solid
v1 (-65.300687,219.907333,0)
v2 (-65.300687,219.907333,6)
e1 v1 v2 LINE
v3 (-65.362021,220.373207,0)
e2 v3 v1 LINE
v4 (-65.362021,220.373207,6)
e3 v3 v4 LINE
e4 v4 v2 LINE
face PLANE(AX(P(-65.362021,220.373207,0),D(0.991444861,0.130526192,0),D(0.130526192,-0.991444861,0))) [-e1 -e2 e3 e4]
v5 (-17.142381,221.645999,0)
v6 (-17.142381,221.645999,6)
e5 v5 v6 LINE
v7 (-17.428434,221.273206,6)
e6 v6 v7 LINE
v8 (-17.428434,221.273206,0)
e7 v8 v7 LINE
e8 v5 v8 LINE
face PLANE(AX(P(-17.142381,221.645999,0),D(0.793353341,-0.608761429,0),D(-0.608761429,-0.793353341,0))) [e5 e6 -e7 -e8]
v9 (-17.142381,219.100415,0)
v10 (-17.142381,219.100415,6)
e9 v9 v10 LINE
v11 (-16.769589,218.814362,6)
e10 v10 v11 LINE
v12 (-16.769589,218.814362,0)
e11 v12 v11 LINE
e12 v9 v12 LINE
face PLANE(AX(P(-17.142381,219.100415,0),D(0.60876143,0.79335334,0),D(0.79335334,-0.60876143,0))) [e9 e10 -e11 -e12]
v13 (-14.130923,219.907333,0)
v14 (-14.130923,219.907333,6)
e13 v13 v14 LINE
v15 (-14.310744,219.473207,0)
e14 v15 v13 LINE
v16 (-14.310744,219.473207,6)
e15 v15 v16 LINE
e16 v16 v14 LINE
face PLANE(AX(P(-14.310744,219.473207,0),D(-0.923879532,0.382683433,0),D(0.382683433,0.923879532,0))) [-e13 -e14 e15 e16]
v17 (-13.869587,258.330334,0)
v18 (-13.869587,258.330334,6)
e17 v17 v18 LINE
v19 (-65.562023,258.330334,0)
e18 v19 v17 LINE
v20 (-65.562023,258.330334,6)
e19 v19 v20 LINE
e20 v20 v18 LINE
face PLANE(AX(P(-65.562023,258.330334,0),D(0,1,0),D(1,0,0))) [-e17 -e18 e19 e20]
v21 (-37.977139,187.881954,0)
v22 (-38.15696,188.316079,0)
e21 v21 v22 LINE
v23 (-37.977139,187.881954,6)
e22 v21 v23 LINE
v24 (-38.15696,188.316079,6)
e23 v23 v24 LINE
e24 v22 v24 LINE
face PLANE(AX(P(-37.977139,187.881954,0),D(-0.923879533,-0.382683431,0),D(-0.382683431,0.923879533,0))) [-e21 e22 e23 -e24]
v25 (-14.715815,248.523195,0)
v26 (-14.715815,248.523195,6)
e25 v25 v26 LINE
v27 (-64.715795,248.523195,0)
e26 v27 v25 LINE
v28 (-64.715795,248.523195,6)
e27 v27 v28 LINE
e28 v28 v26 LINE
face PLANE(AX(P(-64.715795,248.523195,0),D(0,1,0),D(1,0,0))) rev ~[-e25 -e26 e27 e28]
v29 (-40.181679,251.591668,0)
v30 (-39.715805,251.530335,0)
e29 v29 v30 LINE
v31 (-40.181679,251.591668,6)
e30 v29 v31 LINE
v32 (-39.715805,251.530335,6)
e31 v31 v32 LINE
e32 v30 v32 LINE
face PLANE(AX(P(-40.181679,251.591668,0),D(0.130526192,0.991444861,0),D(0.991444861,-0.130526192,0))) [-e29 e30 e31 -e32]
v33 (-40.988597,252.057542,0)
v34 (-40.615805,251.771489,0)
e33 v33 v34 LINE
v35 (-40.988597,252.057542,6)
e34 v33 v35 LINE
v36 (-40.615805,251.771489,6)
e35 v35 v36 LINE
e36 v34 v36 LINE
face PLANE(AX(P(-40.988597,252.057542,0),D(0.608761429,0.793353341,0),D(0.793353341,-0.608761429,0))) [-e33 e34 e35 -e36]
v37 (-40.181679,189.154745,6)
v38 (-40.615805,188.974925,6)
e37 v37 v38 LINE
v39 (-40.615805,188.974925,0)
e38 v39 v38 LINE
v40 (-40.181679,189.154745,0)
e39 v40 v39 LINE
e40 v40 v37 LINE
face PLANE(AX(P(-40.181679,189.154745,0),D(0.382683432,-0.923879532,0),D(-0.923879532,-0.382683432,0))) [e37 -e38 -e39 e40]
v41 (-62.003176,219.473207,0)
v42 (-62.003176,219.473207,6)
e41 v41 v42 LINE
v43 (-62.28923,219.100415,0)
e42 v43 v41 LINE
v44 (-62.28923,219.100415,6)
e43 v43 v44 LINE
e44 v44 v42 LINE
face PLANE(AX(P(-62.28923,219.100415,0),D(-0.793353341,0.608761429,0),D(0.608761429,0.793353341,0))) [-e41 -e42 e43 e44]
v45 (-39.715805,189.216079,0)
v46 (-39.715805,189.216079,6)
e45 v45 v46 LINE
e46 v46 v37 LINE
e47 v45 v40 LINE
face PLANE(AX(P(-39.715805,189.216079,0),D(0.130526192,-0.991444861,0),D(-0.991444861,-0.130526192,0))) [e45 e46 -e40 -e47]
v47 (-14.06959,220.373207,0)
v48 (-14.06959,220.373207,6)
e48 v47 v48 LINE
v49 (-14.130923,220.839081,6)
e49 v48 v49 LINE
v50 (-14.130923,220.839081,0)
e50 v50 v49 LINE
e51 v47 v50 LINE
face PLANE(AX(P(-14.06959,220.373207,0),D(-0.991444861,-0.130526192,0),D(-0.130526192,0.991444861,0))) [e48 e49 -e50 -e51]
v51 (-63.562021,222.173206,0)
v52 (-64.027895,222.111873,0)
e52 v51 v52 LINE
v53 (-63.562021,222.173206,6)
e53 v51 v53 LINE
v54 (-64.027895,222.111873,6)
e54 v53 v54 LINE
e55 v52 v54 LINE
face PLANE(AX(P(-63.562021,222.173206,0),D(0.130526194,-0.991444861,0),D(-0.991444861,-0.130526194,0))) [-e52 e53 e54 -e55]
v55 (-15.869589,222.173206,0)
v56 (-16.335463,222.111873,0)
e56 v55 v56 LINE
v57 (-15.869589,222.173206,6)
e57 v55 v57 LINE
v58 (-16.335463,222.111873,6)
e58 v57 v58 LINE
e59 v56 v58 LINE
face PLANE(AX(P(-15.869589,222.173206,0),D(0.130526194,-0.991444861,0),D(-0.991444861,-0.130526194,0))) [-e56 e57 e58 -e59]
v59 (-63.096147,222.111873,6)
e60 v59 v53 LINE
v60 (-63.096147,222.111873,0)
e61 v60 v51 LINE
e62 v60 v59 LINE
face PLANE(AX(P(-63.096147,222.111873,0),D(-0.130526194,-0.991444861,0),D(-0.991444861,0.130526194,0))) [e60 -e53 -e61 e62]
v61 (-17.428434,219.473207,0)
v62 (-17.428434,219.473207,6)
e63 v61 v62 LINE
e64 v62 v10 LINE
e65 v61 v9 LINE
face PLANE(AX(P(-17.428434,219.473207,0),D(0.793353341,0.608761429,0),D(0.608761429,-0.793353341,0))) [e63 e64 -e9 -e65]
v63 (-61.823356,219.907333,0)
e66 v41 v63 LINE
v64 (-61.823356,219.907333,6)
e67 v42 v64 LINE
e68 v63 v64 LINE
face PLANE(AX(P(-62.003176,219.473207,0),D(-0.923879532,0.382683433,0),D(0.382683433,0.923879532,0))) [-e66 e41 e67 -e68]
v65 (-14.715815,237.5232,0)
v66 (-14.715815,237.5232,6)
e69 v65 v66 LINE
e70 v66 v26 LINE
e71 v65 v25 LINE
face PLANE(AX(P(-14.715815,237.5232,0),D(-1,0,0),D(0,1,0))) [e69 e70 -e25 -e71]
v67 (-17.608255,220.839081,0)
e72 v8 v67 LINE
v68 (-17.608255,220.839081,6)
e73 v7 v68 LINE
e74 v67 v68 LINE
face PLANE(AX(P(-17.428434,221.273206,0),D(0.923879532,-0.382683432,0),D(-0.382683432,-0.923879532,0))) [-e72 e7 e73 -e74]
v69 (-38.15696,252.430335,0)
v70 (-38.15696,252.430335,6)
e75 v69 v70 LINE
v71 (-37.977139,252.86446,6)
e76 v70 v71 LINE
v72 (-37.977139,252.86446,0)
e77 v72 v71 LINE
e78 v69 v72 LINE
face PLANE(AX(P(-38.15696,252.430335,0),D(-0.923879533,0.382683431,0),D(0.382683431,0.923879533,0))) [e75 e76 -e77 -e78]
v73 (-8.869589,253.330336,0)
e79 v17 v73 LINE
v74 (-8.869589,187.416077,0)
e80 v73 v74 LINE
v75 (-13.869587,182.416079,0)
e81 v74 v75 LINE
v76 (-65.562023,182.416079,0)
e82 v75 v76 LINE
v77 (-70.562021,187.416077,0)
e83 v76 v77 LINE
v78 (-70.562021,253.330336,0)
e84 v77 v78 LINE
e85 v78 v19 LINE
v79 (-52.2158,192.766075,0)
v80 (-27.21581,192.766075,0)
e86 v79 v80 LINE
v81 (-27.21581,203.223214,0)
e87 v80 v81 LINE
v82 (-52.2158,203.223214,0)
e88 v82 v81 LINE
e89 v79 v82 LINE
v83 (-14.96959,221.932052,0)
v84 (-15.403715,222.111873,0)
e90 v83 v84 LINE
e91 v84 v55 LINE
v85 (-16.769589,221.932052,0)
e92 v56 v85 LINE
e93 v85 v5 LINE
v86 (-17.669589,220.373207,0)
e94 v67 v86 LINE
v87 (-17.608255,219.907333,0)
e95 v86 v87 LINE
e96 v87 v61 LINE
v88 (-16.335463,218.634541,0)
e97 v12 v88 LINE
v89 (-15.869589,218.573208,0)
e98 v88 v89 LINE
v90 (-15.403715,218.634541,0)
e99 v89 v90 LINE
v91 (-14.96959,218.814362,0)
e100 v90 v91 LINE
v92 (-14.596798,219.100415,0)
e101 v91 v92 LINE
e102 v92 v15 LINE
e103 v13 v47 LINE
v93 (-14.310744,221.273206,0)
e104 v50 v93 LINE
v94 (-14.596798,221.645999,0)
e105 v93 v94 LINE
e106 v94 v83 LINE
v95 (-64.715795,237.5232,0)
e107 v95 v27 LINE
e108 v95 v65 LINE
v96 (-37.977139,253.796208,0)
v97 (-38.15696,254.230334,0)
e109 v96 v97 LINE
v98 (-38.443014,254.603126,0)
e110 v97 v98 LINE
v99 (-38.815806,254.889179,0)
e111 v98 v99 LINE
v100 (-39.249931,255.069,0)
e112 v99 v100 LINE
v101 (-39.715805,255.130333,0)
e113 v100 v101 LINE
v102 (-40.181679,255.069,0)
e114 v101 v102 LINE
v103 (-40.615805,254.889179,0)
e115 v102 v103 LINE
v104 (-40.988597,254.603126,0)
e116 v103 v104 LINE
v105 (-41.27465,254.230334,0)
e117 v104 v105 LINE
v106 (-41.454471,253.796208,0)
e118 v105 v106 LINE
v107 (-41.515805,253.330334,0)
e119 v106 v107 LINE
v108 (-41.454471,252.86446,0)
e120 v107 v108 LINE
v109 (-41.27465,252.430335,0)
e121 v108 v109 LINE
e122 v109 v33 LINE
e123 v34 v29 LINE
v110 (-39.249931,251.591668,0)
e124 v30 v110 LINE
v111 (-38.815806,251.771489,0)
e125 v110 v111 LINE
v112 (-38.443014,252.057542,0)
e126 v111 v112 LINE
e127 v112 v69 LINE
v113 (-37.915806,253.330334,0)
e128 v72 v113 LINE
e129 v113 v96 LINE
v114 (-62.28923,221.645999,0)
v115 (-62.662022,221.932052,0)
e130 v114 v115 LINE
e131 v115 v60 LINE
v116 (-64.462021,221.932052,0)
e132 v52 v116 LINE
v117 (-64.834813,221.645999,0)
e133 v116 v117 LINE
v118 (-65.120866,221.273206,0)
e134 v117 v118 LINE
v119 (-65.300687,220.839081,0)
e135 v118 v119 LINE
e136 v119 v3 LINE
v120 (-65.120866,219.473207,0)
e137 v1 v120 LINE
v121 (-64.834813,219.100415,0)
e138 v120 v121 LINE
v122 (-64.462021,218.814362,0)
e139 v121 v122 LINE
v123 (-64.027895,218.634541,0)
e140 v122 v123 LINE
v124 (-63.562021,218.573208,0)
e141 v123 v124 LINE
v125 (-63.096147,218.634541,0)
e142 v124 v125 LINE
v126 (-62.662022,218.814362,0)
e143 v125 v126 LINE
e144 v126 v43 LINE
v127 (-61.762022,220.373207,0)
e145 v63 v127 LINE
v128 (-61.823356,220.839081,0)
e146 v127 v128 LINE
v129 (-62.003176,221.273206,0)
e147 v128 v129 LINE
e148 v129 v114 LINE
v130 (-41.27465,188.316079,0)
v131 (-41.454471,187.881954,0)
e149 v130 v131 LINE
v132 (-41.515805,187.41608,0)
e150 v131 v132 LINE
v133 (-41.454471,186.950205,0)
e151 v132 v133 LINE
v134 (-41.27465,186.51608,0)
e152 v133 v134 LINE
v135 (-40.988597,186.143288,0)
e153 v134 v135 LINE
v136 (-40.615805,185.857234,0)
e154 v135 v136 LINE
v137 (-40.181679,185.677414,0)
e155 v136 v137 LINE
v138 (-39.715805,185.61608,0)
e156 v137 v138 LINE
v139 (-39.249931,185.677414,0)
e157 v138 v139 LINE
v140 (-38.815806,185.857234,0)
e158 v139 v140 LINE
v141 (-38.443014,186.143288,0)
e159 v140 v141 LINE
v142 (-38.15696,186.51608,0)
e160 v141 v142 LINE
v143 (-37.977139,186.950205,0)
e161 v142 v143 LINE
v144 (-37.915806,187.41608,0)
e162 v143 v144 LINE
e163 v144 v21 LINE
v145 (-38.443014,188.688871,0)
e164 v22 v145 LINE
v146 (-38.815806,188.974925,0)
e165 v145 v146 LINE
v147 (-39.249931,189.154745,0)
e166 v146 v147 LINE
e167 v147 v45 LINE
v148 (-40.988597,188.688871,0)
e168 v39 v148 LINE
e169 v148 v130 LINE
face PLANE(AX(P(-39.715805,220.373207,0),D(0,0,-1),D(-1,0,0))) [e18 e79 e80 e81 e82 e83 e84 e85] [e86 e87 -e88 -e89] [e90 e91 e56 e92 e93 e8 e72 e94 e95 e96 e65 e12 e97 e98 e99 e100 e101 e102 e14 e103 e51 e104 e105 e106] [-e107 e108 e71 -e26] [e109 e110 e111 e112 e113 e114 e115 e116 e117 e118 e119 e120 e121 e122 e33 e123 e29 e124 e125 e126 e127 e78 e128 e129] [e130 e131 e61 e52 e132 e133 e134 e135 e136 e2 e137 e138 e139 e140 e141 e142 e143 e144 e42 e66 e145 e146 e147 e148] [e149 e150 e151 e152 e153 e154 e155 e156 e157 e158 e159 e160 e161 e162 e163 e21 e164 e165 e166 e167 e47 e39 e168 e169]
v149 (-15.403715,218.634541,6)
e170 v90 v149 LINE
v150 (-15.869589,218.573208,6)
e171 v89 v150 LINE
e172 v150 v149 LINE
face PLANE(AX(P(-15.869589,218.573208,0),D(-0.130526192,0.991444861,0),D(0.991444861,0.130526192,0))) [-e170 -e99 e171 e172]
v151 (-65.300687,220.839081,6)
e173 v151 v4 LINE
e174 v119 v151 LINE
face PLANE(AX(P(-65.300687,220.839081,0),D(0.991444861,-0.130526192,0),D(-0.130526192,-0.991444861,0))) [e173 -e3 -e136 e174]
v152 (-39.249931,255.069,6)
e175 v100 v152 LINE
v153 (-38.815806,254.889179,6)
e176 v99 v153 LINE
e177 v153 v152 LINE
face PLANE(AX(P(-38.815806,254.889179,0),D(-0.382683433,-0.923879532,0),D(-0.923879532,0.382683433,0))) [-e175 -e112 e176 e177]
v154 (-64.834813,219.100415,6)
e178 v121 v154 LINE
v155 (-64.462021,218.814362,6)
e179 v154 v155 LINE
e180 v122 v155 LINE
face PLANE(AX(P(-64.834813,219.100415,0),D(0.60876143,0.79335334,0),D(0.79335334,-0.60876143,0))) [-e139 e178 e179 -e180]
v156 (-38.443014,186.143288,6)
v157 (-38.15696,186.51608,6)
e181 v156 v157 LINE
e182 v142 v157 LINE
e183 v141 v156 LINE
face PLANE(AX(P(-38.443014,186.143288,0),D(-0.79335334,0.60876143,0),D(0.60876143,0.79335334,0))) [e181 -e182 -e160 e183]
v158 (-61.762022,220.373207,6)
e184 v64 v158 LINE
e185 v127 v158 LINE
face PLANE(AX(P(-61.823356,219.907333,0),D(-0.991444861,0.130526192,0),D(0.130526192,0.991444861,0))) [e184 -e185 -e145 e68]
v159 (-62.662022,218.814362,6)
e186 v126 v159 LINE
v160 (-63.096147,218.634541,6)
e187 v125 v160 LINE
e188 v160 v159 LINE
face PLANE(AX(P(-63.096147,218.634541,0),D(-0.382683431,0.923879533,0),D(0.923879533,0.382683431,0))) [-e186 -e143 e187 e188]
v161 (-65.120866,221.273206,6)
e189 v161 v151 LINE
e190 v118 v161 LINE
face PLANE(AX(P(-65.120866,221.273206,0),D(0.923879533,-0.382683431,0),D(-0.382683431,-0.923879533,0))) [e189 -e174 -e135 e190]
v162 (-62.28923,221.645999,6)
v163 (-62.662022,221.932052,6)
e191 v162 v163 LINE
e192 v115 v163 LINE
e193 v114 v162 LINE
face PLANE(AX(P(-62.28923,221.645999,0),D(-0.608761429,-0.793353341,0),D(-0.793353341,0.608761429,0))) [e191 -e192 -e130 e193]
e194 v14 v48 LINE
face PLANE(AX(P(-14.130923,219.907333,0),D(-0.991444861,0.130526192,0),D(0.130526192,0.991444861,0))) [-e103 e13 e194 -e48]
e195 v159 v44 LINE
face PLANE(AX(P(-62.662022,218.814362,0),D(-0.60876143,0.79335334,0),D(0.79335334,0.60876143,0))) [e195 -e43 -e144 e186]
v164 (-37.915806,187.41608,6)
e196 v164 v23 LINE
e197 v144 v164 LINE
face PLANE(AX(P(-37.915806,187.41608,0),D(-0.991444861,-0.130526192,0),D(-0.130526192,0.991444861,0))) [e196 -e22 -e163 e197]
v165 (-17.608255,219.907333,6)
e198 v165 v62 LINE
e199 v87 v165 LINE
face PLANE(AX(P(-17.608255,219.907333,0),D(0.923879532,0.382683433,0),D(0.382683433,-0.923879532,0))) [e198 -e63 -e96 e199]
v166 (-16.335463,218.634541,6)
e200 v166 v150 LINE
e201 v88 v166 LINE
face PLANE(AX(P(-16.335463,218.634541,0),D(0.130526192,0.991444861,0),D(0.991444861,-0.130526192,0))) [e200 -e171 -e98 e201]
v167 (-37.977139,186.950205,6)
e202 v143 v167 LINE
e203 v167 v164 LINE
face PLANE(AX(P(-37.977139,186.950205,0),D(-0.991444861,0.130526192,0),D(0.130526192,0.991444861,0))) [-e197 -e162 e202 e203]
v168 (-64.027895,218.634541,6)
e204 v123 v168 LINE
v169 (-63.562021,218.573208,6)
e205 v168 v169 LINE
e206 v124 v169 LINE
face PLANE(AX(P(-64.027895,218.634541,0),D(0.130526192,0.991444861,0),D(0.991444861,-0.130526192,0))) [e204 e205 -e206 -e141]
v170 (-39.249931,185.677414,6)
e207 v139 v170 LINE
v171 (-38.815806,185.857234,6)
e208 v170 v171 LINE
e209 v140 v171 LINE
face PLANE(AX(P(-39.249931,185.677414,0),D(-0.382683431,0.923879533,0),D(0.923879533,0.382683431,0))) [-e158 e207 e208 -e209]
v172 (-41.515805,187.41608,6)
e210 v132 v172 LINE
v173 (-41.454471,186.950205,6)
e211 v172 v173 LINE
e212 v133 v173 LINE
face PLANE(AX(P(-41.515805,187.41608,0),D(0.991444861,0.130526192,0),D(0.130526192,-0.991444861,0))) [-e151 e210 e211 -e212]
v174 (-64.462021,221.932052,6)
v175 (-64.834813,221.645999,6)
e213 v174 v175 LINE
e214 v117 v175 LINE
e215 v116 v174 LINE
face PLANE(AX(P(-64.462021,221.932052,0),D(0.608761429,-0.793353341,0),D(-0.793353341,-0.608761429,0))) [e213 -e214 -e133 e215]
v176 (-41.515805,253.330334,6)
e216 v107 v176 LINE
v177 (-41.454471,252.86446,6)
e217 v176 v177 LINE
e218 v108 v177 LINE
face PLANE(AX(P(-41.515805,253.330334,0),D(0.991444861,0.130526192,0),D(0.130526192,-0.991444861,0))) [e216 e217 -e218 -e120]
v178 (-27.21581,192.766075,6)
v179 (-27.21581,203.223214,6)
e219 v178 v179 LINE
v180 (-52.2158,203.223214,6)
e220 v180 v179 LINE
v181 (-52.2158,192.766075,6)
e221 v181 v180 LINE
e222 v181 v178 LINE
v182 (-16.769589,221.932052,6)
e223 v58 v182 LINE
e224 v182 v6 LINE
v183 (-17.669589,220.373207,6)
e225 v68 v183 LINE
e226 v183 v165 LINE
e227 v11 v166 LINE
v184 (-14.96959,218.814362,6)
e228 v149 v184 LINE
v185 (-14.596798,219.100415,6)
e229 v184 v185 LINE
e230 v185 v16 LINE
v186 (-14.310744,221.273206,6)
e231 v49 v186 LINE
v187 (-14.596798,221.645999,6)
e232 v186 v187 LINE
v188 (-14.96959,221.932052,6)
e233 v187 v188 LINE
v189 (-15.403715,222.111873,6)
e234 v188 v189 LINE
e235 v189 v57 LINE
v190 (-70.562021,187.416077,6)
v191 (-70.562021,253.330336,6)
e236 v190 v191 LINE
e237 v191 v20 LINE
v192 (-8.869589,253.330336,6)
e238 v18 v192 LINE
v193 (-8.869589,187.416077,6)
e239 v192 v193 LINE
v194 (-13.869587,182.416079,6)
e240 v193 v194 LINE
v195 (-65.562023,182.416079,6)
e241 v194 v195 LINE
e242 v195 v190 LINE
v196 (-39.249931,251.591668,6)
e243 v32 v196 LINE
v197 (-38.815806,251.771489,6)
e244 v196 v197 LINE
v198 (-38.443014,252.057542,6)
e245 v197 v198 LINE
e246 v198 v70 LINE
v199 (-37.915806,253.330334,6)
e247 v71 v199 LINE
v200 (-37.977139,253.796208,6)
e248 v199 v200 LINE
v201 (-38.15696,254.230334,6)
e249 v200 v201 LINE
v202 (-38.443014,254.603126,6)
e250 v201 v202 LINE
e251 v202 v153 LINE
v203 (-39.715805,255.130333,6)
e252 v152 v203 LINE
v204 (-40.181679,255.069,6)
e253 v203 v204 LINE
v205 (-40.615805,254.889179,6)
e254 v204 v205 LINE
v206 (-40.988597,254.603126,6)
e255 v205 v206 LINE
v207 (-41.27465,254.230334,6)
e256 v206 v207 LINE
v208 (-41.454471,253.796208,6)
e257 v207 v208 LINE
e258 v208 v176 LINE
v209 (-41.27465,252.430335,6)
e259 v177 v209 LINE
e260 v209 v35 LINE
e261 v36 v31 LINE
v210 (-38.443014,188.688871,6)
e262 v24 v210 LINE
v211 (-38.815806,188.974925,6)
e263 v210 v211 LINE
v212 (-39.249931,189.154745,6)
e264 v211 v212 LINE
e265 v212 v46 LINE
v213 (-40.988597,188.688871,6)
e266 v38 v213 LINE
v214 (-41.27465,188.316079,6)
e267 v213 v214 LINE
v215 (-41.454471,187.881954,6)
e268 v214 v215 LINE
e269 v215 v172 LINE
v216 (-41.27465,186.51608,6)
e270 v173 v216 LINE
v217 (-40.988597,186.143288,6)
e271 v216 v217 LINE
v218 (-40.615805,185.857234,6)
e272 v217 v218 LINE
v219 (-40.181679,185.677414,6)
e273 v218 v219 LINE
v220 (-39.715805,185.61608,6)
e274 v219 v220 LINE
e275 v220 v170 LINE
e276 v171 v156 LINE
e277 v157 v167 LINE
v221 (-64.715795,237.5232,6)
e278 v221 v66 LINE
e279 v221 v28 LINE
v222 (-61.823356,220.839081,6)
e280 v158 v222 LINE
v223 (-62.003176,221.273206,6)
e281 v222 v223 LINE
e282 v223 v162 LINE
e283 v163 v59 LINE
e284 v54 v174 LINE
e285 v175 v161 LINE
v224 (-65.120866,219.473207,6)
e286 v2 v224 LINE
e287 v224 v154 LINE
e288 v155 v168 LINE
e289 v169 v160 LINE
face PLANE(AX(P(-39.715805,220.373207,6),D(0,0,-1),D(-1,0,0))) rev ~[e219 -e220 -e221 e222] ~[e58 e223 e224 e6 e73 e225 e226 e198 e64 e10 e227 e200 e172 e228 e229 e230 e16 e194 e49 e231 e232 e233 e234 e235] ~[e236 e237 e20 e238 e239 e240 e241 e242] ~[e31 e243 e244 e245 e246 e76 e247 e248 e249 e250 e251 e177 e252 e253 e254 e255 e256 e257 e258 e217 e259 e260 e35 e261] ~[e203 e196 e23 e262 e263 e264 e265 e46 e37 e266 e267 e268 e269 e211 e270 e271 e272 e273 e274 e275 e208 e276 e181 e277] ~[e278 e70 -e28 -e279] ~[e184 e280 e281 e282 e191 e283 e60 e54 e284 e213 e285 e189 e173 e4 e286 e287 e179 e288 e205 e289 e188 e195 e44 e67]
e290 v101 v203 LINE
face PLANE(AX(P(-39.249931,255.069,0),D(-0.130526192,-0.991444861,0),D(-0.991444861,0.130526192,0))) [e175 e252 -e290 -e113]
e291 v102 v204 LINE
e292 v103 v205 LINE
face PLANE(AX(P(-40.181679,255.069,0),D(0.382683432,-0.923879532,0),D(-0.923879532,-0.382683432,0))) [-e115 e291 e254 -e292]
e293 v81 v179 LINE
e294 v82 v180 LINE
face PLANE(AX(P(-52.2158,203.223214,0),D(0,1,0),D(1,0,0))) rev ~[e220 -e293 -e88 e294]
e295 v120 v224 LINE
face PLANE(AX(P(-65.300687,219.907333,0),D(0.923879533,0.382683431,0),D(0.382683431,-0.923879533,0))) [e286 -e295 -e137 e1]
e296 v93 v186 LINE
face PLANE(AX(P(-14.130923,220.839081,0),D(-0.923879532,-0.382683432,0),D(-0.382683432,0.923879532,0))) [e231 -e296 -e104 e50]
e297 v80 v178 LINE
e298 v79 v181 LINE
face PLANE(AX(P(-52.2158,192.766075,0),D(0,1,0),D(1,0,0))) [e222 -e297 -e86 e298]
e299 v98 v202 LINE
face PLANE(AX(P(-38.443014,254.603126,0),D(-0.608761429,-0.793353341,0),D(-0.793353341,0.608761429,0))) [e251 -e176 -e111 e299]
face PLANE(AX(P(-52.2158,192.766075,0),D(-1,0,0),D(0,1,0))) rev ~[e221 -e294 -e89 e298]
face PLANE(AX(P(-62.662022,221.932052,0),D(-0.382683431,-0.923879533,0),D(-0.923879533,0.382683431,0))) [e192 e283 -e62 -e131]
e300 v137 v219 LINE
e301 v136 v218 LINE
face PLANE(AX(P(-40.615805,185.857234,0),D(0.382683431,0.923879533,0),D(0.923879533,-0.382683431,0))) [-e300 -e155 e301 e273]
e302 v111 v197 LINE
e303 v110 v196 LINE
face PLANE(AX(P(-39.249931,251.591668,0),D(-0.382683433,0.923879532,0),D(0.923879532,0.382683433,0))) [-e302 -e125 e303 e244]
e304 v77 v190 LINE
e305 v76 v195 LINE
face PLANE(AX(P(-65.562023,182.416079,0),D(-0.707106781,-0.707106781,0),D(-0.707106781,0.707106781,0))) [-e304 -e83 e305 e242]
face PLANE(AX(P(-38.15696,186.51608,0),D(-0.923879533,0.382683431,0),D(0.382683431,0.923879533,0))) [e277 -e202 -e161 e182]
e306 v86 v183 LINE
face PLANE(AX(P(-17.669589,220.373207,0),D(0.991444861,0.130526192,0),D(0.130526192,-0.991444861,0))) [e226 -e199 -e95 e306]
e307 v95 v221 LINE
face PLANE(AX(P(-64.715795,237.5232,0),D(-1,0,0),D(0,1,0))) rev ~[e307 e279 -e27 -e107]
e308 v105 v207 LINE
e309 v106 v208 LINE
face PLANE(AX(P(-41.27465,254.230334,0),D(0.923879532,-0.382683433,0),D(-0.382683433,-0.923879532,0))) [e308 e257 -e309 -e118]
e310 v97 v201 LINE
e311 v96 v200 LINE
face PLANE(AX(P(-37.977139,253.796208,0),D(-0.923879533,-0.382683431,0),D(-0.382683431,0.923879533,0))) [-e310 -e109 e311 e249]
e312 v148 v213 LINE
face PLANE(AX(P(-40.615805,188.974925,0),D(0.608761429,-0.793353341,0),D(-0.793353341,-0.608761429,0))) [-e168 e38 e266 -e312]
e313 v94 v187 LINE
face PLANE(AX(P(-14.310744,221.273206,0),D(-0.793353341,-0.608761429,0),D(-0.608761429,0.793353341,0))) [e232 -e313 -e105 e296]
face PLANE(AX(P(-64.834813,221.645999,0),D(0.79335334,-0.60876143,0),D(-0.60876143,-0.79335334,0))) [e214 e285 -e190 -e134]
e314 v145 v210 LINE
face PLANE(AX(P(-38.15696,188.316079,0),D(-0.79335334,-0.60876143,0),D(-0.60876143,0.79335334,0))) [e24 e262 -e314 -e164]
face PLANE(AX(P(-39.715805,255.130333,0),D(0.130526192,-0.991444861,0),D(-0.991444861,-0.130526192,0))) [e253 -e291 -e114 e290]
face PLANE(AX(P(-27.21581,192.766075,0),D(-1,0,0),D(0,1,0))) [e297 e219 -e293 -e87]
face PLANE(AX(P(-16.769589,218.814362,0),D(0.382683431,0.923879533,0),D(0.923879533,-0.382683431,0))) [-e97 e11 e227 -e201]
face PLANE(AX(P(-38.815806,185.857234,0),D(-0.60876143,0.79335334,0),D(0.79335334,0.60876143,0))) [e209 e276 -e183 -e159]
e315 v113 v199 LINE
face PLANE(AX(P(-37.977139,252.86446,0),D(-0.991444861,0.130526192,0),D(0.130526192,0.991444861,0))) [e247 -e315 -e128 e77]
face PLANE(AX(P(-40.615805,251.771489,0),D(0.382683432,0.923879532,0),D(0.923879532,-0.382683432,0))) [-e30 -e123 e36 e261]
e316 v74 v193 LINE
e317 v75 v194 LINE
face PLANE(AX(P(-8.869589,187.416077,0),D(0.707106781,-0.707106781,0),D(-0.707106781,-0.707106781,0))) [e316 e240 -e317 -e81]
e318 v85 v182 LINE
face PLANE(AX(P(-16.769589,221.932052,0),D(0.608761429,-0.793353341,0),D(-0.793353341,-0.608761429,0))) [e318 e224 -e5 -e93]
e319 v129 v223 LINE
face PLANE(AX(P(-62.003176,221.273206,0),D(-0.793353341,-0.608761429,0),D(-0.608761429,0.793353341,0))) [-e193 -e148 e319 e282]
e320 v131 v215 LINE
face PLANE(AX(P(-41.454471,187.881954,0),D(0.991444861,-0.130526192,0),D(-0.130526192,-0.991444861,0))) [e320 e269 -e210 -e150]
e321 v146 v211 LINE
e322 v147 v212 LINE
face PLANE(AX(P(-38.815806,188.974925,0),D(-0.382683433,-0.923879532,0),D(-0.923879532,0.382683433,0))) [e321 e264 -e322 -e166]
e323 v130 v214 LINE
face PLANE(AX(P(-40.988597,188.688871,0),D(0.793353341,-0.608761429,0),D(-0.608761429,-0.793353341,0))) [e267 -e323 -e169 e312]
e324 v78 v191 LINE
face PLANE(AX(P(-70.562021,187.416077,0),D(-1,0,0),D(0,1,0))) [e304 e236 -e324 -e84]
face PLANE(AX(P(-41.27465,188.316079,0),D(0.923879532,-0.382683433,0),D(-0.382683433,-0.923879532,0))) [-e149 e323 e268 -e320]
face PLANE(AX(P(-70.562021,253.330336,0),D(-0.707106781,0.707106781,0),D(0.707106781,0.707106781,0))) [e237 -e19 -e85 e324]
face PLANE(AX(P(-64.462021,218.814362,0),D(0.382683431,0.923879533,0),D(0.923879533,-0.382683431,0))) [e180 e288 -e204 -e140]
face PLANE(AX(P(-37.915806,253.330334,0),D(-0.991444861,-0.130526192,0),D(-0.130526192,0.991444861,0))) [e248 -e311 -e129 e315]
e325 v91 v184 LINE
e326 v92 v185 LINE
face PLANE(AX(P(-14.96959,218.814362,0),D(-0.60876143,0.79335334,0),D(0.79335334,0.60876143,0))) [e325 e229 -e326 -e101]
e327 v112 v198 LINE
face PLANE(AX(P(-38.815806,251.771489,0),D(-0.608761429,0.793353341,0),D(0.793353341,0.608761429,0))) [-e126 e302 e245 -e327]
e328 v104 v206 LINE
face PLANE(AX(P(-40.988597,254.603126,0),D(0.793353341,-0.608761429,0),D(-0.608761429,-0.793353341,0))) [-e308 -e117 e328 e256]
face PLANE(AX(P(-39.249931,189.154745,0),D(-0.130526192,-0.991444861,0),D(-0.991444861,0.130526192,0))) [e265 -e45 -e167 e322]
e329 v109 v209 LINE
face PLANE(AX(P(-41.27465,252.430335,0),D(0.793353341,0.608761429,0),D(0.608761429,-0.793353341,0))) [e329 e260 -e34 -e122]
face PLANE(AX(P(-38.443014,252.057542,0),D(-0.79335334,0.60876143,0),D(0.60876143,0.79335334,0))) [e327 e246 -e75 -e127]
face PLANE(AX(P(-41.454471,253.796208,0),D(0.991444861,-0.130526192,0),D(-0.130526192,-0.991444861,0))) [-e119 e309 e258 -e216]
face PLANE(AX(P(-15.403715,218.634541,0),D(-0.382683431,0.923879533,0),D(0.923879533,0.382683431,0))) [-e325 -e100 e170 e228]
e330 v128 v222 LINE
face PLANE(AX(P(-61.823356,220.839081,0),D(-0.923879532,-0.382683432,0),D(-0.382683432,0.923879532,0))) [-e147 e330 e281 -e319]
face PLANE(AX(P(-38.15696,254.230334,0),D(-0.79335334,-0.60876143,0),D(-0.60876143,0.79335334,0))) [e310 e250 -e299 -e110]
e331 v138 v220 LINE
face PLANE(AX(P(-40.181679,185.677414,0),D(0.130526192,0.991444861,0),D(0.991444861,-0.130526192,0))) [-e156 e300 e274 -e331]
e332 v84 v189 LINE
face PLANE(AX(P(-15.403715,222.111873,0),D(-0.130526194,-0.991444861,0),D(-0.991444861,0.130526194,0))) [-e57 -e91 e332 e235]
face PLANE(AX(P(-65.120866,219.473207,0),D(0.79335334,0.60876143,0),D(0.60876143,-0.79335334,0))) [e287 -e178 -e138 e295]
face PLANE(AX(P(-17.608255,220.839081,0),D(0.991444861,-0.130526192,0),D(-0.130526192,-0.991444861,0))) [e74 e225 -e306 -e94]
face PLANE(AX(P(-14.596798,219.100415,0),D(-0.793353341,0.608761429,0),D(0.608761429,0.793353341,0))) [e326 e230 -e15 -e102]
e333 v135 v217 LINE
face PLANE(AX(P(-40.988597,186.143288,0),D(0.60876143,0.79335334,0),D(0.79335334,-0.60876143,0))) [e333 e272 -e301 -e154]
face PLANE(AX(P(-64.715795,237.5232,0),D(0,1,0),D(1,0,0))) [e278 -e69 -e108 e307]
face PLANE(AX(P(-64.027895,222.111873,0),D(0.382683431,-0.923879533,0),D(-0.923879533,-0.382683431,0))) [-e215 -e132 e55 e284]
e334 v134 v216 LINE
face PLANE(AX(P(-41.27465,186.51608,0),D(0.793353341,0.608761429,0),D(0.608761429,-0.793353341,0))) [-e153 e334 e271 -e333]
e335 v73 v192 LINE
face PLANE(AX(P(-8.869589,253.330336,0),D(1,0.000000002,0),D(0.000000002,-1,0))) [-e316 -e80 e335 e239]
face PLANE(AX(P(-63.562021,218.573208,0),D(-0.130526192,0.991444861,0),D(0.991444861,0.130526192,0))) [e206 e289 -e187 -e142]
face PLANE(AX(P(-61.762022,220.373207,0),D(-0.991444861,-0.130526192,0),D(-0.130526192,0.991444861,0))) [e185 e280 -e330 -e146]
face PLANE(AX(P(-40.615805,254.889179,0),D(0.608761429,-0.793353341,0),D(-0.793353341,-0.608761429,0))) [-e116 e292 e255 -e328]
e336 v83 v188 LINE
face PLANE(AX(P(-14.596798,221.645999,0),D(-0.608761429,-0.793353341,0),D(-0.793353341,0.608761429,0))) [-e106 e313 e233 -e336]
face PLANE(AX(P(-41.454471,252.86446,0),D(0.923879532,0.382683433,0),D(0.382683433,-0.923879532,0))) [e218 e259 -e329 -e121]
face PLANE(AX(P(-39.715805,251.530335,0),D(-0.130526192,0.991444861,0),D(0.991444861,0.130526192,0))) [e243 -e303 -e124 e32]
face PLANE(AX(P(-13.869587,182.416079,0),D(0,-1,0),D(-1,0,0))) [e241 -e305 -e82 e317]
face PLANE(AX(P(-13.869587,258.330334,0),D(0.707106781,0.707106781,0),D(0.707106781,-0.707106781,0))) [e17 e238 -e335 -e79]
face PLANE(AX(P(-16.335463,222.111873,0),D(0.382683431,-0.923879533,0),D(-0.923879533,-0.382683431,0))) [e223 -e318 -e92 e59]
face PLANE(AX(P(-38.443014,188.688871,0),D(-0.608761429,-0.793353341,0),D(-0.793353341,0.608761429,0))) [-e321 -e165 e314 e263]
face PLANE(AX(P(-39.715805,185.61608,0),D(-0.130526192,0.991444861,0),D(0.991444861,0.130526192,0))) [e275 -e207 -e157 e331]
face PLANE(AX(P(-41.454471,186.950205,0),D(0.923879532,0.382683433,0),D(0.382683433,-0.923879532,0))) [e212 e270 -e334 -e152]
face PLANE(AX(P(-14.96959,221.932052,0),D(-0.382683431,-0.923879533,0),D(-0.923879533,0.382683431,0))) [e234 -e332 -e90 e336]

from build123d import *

# Parameters (mm, degrees)
SKETCH1_W           = 24.999989911
SKETCH1_H           = 10.457138346
SKETCH1_W_2         = 49.999979698
SKETCH1_H_2         = 10.999995004
BOSS_EXTRUDE1_DEPTH = 6


with BuildPart() as part:
    # Sketch1 → Boss-Extrude1 (new body)
    with BuildSketch(Plane.XY):
        Polygon((-13.869587182, 182.416079474), (-65.562023318, 182.416079474), (-70.562021318, 187.416077474), (-70.562021318, 253.330336135), (-65.562023318, 258.330334135), (-13.869587203, 258.330334135), (-8.86958931, 253.330336243), (-8.869589201, 187.416077455), align=None)
        with Locations((-39.715805198, 197.994644352)):
            Rectangle(SKETCH1_W, SKETCH1_H, mode=Mode.SUBTRACT)
        with Locations((-39.71580491, 243.023197048)):
            Rectangle(SKETCH1_W_2, SKETCH1_H_2, mode=Mode.SUBTRACT)
        Polygon((-64.027895433, 218.634541052), (-63.562021338, 218.573207564), (-63.096147243, 218.634541052), (-62.662021698, 218.81436174), (-62.289229641, 219.100415147), (-62.003176235, 219.473207204), (-61.823355546, 219.907332749), (-61.762022058, 220.373206844), (-61.823355546, 220.839080938), (-62.003176235, 221.273206484), (-62.289229641, 221.645998541), (-62.662021698, 221.932051947), (-63.096147243, 222.111872635), (-63.562021338, 222.173206124), (-64.027895433, 222.111872635), (-64.462020978, 221.932051947), (-64.834813035, 221.645998541), (-65.120866442, 221.273206484), (-65.30068713, 220.839080938), (-65.362020618, 220.373206844), (-65.30068713, 219.907332749), (-65.120866442, 219.473207204), (-64.834813035, 219.100415147), (-64.462020978, 218.81436174), align=None, mode=Mode.SUBTRACT)
        Polygon((-15.869589261, 222.173206124), (-16.335463356, 222.111872635), (-16.769588901, 221.932051947), (-17.142380958, 221.645998541), (-17.428434364, 221.273206484), (-17.608255053, 220.839080938), (-17.669588541, 220.373206844), (-17.608255053, 219.907332749), (-17.428434364, 219.473207204), (-17.142380958, 219.100415147), (-16.769588901, 218.81436174), (-16.335463356, 218.634541052), (-15.869589261, 218.573207564), (-15.403715166, 218.634541052), (-14.969589621, 218.81436174), (-14.596797564, 219.100415147), (-14.310744158, 219.473207204), (-14.130923469, 219.907332749), (-14.069589981, 220.373206844), (-14.130923469, 220.839080938), (-14.310744158, 221.273206484), (-14.596797564, 221.645998541), (-14.969589621, 221.932051947), (-15.403715166, 222.111872635), align=None, mode=Mode.SUBTRACT)
        Polygon((-37.977139428, 187.881953608), (-38.156960116, 188.316079153), (-38.443013523, 188.68887121), (-38.81580558, 188.974924616), (-39.249931125, 189.154745305), (-39.71580522, 189.216078793), (-40.181679314, 189.154745305), (-40.61580486, 188.974924616), (-40.988596917, 188.68887121), (-41.274650323, 188.316079153), (-41.454471012, 187.881953608), (-41.5158045, 187.416079513), (-41.454471012, 186.950205418), (-41.274650323, 186.516079873), (-40.988596917, 186.143287816), (-40.61580486, 185.857234409), (-40.181679314, 185.677413721), (-39.71580522, 185.616080233), (-39.249931125, 185.677413721), (-38.81580558, 185.857234409), (-38.443013523, 186.143287816), (-38.156960116, 186.516079873), (-37.977139428, 186.950205418), (-37.91580594, 187.416079513), align=None, mode=Mode.SUBTRACT)
        Polygon((-37.977139428, 252.86446006), (-37.91580594, 253.330334155), (-37.977139428, 253.79620825), (-38.156960116, 254.230333795), (-38.443013523, 254.603125852), (-38.81580558, 254.889179258), (-39.249931125, 255.068999947), (-39.71580522, 255.130333435), (-40.181679314, 255.068999947), (-40.61580486, 254.889179258), (-40.988596917, 254.603125852), (-41.274650323, 254.230333795), (-41.454471012, 253.79620825), (-41.5158045, 253.330334155), (-41.454471012, 252.86446006), (-41.274650323, 252.430334515), (-40.988596917, 252.057542458), (-40.61580486, 251.771489052), (-40.181679314, 251.591668363), (-39.71580522, 251.530334875), (-39.249931125, 251.591668363), (-38.81580558, 251.771489052), (-38.443013523, 252.057542458), (-38.156960116, 252.430334515), align=None, mode=Mode.SUBTRACT)
    extrude(amount=BOSS_EXTRUDE1_DEPTH)


solid = part.part
